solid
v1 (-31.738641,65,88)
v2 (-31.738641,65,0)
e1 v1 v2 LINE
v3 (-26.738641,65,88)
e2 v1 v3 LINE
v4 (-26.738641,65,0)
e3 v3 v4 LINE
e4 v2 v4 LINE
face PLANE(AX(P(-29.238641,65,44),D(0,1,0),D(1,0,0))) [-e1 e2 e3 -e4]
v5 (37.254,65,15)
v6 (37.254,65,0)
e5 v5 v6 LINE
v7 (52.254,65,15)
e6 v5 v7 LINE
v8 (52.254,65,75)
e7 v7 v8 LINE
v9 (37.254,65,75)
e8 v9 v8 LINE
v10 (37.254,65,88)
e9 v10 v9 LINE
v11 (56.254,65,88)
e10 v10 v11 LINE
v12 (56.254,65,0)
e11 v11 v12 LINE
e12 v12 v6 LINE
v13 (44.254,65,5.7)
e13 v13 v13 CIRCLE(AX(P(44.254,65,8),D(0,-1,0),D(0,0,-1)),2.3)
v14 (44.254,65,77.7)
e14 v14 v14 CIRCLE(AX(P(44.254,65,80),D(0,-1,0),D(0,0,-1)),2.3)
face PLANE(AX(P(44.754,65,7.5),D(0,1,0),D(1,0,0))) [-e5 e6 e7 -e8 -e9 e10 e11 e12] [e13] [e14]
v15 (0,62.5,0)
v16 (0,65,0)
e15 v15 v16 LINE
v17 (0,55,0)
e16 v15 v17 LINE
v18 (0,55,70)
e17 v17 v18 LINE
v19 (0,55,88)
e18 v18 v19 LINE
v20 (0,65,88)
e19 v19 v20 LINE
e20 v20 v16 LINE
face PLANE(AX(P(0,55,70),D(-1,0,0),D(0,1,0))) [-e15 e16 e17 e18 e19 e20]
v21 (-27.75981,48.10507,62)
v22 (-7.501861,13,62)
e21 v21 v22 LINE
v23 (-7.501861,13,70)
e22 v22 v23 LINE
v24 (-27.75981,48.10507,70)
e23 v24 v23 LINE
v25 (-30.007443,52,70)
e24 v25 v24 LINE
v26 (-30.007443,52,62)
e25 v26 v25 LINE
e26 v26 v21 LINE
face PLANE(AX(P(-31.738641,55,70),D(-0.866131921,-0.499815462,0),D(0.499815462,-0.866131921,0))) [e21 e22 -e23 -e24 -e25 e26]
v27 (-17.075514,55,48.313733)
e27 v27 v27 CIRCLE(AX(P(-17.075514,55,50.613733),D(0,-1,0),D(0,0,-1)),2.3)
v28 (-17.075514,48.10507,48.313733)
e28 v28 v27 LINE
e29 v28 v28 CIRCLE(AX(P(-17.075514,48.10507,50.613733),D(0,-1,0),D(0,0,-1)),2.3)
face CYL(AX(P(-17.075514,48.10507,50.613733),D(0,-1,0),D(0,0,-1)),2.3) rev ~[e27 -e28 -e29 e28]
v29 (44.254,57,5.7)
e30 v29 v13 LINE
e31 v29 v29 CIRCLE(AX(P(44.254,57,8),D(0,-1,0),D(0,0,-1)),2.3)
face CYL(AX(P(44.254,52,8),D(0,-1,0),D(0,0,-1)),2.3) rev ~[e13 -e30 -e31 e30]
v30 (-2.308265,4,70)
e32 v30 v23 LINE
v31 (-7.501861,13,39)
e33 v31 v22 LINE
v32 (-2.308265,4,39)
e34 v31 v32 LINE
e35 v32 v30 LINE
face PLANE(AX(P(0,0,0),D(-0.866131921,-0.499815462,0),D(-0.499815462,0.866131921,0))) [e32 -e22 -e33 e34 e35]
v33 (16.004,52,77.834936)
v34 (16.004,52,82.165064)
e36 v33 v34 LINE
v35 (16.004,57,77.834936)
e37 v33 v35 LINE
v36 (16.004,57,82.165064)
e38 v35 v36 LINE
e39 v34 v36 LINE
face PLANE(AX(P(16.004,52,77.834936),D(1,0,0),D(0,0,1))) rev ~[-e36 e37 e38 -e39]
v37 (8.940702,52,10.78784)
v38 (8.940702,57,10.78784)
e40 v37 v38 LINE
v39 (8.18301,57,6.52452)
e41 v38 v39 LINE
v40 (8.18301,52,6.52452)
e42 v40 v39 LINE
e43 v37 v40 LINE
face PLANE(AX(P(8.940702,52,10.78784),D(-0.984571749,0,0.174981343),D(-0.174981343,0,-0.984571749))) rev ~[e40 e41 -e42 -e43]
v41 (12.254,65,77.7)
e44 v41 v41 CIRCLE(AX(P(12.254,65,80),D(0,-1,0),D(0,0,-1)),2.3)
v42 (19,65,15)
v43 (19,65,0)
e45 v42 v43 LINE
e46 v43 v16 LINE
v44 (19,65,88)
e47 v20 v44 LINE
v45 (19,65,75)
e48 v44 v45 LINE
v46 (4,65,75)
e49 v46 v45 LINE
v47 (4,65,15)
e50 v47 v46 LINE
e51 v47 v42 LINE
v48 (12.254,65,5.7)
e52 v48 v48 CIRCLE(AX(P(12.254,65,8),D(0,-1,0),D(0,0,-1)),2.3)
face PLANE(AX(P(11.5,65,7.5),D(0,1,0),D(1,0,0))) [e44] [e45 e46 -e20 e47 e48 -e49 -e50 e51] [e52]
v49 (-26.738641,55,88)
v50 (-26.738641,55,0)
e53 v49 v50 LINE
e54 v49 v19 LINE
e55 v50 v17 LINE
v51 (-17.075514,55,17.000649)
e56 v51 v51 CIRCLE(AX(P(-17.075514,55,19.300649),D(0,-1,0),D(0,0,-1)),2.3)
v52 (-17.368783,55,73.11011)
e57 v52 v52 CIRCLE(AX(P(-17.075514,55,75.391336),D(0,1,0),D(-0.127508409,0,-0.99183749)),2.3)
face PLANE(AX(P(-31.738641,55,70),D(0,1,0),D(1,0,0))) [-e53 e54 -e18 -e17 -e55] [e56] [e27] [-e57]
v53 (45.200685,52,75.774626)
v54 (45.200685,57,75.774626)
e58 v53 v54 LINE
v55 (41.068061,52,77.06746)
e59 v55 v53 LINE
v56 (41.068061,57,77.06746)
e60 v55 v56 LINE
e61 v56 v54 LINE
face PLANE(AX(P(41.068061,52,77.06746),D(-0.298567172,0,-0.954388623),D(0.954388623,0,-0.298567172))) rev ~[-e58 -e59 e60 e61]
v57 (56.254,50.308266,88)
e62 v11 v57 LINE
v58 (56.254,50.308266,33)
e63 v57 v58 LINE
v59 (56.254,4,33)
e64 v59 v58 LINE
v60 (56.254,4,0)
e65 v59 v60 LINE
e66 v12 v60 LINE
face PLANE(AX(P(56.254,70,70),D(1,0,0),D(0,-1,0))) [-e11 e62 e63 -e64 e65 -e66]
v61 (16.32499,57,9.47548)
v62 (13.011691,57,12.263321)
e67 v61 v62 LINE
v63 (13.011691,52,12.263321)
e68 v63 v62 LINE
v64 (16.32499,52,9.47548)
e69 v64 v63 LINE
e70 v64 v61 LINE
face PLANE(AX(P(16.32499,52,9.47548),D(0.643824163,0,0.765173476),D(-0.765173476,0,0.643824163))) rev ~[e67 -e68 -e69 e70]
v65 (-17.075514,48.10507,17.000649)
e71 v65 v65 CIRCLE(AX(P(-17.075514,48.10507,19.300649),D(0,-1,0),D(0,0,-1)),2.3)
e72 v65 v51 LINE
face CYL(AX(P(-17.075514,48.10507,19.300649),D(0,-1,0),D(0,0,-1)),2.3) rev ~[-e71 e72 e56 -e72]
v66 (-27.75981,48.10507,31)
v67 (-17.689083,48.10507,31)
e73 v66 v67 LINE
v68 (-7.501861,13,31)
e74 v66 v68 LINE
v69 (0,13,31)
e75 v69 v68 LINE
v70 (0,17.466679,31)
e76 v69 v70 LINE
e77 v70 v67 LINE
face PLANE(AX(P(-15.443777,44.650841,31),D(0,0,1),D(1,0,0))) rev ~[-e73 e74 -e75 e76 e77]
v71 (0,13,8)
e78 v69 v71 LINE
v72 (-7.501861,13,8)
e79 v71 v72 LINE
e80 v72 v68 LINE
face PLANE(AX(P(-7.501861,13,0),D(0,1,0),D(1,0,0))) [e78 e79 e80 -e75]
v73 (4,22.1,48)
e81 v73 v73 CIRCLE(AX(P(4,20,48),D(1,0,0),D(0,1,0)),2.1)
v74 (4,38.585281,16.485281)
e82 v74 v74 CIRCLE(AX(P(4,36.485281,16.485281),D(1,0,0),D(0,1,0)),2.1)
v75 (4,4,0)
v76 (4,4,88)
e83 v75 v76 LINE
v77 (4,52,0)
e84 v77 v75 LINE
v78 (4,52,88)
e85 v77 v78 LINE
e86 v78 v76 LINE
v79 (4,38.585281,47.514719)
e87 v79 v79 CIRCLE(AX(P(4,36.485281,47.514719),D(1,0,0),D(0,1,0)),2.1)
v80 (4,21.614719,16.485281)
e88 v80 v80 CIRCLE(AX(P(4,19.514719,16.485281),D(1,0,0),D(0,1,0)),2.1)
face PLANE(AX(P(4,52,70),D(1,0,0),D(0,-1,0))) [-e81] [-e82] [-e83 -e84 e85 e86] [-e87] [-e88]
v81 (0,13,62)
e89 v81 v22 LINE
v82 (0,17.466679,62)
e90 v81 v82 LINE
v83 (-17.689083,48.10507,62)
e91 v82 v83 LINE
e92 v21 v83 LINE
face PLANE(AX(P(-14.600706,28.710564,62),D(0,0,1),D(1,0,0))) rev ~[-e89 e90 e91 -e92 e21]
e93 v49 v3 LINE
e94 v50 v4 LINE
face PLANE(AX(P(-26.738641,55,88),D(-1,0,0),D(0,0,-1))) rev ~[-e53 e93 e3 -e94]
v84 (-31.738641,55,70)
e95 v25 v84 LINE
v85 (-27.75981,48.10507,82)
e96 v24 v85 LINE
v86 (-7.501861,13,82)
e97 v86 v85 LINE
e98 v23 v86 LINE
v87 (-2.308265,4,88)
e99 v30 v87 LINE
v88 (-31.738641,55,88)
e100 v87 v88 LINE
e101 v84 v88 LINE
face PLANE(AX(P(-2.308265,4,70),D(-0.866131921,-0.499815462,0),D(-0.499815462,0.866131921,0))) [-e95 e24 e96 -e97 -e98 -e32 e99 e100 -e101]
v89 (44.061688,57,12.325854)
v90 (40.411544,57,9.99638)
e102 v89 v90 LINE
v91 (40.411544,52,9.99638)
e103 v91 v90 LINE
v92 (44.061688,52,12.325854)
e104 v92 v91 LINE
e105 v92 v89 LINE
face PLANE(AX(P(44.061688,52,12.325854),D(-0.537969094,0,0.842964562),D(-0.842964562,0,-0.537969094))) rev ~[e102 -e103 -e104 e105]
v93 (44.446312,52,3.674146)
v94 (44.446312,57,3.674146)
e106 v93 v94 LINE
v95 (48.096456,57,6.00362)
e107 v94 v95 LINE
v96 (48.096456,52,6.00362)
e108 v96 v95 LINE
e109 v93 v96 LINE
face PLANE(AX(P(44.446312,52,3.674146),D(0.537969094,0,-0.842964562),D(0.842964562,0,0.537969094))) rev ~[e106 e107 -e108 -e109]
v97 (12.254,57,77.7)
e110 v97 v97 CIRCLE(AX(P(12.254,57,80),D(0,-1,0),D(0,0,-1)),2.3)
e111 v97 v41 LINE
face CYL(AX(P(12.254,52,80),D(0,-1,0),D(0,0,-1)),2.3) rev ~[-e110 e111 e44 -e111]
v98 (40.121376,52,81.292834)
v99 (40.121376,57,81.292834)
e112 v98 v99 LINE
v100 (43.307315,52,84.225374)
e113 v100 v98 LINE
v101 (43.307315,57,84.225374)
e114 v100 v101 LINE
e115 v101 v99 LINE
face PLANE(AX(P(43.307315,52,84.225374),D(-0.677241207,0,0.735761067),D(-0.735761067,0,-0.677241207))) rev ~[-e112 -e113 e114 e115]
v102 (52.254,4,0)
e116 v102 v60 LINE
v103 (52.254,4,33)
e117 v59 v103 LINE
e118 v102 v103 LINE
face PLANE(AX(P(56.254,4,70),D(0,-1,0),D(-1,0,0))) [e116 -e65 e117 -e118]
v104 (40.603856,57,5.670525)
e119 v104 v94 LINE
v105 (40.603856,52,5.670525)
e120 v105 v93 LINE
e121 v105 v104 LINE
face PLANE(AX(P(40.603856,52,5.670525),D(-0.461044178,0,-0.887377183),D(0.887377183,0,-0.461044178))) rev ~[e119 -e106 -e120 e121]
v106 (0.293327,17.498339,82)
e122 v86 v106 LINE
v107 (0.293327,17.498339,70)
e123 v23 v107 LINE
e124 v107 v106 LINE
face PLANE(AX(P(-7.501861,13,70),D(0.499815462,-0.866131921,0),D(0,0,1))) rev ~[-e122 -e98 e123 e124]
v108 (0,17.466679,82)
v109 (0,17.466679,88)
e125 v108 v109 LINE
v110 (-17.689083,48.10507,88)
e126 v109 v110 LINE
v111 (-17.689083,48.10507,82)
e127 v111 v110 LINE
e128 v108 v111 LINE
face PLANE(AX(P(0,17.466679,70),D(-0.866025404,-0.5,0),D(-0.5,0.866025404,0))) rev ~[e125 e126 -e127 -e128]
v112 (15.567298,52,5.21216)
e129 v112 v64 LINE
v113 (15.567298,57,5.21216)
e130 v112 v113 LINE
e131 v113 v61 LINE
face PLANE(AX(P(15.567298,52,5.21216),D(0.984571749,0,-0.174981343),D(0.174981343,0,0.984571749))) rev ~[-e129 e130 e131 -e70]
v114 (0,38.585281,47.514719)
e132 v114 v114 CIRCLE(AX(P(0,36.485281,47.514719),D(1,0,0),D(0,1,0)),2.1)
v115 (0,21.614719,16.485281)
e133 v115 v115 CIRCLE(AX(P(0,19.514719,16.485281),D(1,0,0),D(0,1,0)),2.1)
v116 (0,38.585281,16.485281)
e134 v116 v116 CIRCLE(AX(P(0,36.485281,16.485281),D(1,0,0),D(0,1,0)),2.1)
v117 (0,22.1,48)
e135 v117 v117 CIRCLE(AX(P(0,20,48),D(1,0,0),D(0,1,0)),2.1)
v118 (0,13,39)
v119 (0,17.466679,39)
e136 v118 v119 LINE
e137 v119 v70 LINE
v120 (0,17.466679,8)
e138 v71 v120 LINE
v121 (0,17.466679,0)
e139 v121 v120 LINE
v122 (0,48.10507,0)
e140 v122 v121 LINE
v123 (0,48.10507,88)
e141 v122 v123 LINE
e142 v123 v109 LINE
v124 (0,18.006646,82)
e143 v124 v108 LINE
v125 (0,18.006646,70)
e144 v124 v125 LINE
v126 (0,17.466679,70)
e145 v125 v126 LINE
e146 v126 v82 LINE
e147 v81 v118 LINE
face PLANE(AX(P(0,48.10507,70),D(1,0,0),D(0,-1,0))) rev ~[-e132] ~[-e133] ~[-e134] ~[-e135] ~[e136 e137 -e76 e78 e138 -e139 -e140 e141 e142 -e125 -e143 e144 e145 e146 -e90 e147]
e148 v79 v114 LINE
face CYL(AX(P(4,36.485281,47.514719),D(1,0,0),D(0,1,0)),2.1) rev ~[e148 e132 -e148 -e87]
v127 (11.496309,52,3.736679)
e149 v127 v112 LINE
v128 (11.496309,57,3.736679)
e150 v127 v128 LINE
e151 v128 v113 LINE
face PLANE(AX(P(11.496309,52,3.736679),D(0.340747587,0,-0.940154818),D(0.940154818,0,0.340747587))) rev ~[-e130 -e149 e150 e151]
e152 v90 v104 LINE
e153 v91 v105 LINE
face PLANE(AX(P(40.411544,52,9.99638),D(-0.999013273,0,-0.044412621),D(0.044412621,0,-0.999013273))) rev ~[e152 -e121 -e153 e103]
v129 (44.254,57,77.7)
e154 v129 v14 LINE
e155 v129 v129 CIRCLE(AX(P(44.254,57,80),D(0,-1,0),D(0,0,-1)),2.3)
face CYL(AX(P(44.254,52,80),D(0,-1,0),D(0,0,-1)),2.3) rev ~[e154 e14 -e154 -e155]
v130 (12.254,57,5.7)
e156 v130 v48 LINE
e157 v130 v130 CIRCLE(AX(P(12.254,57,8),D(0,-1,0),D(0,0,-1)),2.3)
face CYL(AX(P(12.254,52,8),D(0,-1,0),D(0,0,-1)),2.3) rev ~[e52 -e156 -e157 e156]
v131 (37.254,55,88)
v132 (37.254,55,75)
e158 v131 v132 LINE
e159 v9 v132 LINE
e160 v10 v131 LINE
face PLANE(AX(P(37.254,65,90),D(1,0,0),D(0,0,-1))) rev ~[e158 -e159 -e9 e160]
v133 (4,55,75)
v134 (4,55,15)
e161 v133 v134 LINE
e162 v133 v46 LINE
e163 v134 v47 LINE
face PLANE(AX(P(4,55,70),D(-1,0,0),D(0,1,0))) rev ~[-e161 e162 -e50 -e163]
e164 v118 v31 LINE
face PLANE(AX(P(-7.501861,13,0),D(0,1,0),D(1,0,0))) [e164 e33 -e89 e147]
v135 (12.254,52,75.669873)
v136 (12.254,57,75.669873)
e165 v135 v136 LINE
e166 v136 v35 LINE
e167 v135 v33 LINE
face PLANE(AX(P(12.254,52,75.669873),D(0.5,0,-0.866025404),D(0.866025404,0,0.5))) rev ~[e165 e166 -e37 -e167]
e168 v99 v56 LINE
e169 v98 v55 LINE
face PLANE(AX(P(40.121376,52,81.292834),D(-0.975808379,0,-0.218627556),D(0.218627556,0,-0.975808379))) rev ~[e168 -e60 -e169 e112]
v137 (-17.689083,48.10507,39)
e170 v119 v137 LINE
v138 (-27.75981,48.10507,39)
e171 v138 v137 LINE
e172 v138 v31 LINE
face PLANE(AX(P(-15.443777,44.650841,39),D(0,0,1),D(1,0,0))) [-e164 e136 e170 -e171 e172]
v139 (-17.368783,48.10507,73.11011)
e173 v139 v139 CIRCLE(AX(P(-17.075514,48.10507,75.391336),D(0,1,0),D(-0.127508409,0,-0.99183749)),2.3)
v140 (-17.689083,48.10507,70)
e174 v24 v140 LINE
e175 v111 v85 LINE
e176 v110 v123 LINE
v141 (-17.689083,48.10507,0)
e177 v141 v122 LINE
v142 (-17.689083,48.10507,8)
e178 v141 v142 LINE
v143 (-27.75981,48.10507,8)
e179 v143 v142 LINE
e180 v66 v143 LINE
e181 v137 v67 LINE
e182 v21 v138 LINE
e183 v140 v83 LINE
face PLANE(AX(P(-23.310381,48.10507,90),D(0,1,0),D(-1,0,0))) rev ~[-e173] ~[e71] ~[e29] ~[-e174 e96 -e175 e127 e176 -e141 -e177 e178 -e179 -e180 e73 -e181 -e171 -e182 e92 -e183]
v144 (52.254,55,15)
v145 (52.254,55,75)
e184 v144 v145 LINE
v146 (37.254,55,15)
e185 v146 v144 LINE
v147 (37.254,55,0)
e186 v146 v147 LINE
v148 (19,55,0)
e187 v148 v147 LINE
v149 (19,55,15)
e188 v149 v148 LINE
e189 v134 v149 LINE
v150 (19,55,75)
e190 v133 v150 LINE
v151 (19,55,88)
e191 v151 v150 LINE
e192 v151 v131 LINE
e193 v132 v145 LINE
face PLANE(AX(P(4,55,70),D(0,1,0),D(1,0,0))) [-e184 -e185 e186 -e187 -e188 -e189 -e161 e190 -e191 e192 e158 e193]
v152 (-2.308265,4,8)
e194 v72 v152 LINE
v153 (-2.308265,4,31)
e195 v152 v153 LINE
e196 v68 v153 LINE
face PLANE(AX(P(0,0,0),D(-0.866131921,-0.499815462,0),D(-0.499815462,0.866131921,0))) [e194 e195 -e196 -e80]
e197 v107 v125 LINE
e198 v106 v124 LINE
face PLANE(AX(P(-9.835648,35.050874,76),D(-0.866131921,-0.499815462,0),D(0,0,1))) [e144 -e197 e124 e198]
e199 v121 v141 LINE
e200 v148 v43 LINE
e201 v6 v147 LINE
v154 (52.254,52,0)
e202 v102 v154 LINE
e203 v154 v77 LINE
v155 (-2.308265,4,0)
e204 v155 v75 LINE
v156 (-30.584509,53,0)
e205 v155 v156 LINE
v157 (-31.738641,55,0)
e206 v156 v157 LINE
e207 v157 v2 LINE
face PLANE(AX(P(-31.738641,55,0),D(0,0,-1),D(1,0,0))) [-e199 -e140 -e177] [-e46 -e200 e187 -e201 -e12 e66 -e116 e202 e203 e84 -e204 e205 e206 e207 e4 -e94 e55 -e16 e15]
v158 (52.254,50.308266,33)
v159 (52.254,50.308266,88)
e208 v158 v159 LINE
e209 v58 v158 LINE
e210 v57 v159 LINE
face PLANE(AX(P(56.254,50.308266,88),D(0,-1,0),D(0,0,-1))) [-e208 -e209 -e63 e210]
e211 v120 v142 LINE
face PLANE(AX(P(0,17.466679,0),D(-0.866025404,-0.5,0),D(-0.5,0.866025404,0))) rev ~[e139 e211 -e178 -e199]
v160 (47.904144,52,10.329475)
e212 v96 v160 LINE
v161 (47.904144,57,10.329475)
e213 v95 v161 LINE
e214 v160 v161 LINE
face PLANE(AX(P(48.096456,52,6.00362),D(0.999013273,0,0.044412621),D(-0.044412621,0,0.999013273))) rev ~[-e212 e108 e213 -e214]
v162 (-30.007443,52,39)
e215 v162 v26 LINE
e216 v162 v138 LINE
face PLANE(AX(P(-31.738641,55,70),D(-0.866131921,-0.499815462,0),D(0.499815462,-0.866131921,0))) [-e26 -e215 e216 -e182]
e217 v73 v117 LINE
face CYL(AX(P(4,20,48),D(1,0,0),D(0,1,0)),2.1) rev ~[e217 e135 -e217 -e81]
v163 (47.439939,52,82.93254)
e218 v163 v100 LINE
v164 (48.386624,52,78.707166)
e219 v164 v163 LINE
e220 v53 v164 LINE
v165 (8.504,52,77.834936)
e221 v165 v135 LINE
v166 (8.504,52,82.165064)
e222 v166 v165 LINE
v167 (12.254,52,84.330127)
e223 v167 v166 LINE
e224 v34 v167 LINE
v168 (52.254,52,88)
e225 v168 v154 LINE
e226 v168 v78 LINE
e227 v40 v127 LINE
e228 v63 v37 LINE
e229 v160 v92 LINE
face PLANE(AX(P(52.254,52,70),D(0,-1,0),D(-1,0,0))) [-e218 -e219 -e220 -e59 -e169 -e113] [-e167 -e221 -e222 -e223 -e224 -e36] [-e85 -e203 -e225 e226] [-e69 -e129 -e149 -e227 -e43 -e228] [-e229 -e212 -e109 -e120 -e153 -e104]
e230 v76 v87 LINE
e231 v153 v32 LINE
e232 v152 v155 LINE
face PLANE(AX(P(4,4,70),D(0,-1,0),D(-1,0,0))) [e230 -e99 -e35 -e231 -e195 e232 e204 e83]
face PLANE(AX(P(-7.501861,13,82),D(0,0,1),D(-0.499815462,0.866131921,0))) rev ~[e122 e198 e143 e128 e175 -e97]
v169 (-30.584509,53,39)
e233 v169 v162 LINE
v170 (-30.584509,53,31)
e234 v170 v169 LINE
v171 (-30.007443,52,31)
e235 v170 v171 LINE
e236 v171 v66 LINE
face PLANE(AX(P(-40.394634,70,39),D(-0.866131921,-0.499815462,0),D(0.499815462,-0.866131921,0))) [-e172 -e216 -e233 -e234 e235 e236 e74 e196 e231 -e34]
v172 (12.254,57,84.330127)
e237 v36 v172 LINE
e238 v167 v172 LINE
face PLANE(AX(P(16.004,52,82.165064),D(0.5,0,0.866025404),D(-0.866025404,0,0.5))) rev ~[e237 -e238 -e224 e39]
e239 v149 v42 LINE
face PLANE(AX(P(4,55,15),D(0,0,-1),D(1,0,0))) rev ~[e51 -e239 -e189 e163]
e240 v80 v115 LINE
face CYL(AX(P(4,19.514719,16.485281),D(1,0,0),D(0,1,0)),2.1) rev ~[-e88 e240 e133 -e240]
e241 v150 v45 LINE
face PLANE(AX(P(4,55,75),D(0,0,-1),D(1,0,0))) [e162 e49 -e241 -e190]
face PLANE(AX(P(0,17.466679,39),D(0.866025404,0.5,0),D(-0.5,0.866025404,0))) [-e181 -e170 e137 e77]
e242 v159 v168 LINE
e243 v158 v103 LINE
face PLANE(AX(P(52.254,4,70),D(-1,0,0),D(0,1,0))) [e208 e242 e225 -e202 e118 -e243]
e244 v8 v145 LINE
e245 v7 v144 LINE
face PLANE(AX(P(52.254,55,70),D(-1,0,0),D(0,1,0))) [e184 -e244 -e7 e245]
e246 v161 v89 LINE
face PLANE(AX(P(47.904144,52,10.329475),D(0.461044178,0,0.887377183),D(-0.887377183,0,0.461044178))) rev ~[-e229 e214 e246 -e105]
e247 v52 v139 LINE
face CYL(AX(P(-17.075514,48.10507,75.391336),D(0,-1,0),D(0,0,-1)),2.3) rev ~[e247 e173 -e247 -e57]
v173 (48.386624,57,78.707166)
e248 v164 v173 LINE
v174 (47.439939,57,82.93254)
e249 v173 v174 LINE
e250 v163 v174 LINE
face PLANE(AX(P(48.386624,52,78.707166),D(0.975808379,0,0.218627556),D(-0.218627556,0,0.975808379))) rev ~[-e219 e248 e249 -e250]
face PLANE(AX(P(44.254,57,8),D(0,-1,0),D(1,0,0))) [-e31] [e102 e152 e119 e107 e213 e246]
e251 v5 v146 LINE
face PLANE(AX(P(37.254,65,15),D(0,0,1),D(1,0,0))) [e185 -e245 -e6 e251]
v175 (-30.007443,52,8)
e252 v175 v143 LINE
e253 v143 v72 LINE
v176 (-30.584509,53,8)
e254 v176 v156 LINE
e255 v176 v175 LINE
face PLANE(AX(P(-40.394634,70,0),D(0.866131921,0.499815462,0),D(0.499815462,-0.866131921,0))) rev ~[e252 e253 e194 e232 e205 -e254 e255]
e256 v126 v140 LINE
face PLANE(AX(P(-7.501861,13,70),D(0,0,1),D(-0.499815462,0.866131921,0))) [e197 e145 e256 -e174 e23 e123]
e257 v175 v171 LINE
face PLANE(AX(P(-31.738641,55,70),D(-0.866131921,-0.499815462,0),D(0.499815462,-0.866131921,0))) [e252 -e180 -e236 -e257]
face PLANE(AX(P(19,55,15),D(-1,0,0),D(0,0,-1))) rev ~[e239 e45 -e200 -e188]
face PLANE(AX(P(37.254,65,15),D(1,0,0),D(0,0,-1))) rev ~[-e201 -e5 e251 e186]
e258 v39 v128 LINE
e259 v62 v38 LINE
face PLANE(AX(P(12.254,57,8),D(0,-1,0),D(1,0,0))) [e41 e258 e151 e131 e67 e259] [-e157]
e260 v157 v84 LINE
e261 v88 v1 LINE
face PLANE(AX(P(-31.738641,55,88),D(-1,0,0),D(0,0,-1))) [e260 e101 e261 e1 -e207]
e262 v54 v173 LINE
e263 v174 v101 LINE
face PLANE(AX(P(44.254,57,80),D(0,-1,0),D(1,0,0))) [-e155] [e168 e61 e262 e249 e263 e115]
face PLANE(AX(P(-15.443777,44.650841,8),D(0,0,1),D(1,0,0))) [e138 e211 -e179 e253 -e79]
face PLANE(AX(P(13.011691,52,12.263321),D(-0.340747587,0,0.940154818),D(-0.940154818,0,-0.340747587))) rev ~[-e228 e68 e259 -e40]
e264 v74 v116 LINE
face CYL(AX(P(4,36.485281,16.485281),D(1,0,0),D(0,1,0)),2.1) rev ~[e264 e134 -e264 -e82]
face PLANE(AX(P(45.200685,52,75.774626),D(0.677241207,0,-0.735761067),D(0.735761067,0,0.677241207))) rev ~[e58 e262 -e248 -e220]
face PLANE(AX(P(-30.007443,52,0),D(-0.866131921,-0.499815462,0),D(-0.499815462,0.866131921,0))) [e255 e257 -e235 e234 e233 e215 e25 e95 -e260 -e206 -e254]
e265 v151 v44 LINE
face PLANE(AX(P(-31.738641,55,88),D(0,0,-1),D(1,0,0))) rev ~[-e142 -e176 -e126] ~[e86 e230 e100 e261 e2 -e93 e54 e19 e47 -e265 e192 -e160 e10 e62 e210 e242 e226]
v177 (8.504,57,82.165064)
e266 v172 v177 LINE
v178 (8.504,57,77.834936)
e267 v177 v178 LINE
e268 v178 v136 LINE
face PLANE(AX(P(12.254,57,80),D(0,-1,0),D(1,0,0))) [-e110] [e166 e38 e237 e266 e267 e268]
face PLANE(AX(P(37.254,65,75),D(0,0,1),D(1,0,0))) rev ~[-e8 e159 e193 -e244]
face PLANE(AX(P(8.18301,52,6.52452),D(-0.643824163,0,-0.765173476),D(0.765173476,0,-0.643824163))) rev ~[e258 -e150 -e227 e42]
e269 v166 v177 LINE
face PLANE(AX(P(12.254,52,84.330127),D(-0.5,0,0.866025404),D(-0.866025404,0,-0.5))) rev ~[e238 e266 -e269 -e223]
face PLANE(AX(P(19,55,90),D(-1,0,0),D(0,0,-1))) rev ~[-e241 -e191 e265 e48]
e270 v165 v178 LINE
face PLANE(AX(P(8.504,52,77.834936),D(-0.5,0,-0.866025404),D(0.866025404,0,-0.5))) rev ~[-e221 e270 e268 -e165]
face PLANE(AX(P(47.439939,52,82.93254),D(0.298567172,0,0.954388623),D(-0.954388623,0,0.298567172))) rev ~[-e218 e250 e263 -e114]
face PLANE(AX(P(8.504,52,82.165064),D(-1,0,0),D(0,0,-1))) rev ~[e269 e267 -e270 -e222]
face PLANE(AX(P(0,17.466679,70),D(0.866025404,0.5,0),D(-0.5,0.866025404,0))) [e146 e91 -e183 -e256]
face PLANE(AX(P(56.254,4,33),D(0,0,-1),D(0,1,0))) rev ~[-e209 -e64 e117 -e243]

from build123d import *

# Parameters (mm, degrees)
SKETCH1_W            = 48.254
SKETCH1_H            = 3
BOSS_EXTRUDE1_DEPTH  = 70
BOSS_EXTRUDE3_DEPTH  = 8
BOSS_EXTRUDE4_DEPTH  = 8
BOSS_EXTRUDE5_DEPTH  = 8
BOSS_EXTRUDE6_DEPTH  = 70
SKETCH7_W            = 40.394634483
SKETCH7_H            = 17
CUT_EXTRUDE3_DEPTH   = 70
BOSS_EXTRUDE7_DEPTH  = 70
BOSS_EXTRUDE10_DEPTH = 8
BOSS_EXTRUDE11_DEPTH = 70
SKETCH13_W           = 83.001411072
SKETCH13_H           = 87.868559997
CUT_EXTRUDE4_DEPTH   = 4
SKETCH14_W           = 48.254
SKETCH14_H           = 10
BOSS_EXTRUDE12_DEPTH = 20
SKETCH16_W           = 56.254
SKETCH16_H           = 5
CUT_EXTRUDE5_DEPTH   = 100
SKETCH17_W           = 15
SKETCH17_H           = 15
BOSS_EXTRUDE14_DEPTH = 13
CUT_EXTRUDE8_DEPTH   = 5
SKETCH21_R           = 2.3
CUT_EXTRUDE9_DEPTH   = 15
SKETCH23_W           = 12
SKETCH23_H           = 40.530858039
CUT_EXTRUDE10_DEPTH  = 9
SKETCH25_R           = 2.3
CUT_EXTRUDE11_DEPTH  = 20
SKETCH26_R           = 2.3
CUT_EXTRUDE12_DEPTH  = 20
BOSS_EXTRUDE16_DEPTH = 20
SKETCH28_W           = 15
SKETCH28_H           = 15
BOSS_EXTRUDE17_DEPTH = 10
SKETCH29_R           = 2.3
CUT_EXTRUDE13_DEPTH  = 20
SKETCH30_W           = 10.391026801
SKETCH30_H           = 12
BOSS_EXTRUDE18_DEPTH = 5
SKETCH31_R           = 2.3
CUT_EXTRUDE14_DEPTH  = 45
SKETCH36_R           = 60.036471347
CUT_EXTRUDE15_DEPTH  = 2
SKETCH37_W           = 5
SKETCH37_H           = 88
BOSS_EXTRUDE19_DEPTH = 10
CUT_EXTRUDE16_DEPTH  = 5
SKETCH39_R           = 2.1
CUT_EXTRUDE17_DEPTH  = 5
SKETCH40_W           = 55
SKETCH40_H           = 46.30826584
CUT_EXTRUDE18_DEPTH  = 5


with BuildPart() as part:
    # Sketch1 → Boss-Extrude1 (new body)
    with BuildSketch(Plane.XY):
        Polygon((4, 0), (0, 0), (0, 70), (56.254, 70), (56.254, 0), (52.254, 0), (52.254, 65), (4, 65), align=None)
        with Locations((28.127, 53.5)):
            Rectangle(SKETCH1_W, SKETCH1_H)
    extrude(amount=BOSS_EXTRUDE1_DEPTH)

    # Sketch3 → Boss-Extrude3 (add)
    with BuildSketch(Plane.XY.offset(70)):
        Polygon((0, 62.5), (0, 70), (-40.394634483, 70), (0, 0.034440722), (0, 17.466679003), (-26, 62.5), align=None)
    extrude(amount=-BOSS_EXTRUDE3_DEPTH)

    # Sketch4 → Boss-Extrude4 (add)
    with BuildSketch(Plane(origin=(0, 0, 0), x_dir=(-1, 0, 0), z_dir=(0, 0, -1))):
        Polygon((0, 70), (40.394634483, 70), (0, 0), (0, 17.466679003), (26, 62.5), (0, 62.5), align=None)
    extrude(amount=-BOSS_EXTRUDE4_DEPTH)

    # Sketch5 → Boss-Extrude5 (add)
    with BuildSketch(Plane(origin=(0, 0, 39), x_dir=(-1, 0, 0), z_dir=(0, 0, -1))):
        Polygon((0, 62.5), (0, 70), (40.394634483, 70), (0, 0), (0, 17.466679003), (26, 62.5), align=None)
    extrude(amount=BOSS_EXTRUDE5_DEPTH)

    # Sketch6 → Boss-Extrude6 (add)
    with BuildSketch(Plane(origin=(0, 0, 0), x_dir=(-1, 0, 0), z_dir=(0, 0, -1))):
        Polygon((0, 62.5), (36.066637932, 62.5), (40.394634483, 70), (0, 70), align=None)
        Polygon((-4, 0), (0, 0), (7.50186069, 13), (-4, 13), align=None)
    extrude(amount=-BOSS_EXTRUDE6_DEPTH)

    # Sketch7 → Cut-Extrude3 (cut)
    with BuildSketch(Plane.XY.offset(70)):
        with Locations((-20.197317242, 61.5)):
            Rectangle(SKETCH7_W, SKETCH7_H)
    extrude(amount=-CUT_EXTRUDE3_DEPTH, mode=Mode.SUBTRACT)

    # Sketch8 → Boss-Extrude7 (add)
    with BuildSketch(Plane(origin=(0, 0, 0), x_dir=(-1, 0, 0), z_dir=(0, 0, -1))):
        Polygon((-4, 55), (-4, 52), (30.007442759, 52), (31.73864138, 55), align=None)
    extrude(amount=-BOSS_EXTRUDE7_DEPTH)

    # Sketch11 → Boss-Extrude10 (add)
    with BuildSketch(Plane.XY.offset(70)):
        Polygon((-31.73864138, 55), (0, 0), (-3.053687451, 13), (-27.288965695, 55), align=None)
    extrude(amount=-BOSS_EXTRUDE10_DEPTH)

    # Sketch12 → Boss-Extrude11 (add)
    with BuildSketch(Plane.XY.offset(70)):
        Polygon((-31.73864138, 55), (-27.75981023, 48.105069917), (0, 48.105069917), (0, 55), align=None)
    extrude(amount=-BOSS_EXTRUDE11_DEPTH)

    # Sketch13 → Cut-Extrude4 (cut)
    with BuildSketch(Plane.XZ):
        with Locations((25.938658228, 33.313825886)):
            Rectangle(SKETCH13_W, SKETCH13_H)
    extrude(amount=-CUT_EXTRUDE4_DEPTH, mode=Mode.SUBTRACT)

    # Sketch14 → Boss-Extrude12 (add)
    with BuildSketch(Plane.XY.offset(70)):
        Polygon((-2.308264828, 4), (-31.73864138, 55), (0, 55), (0, 70), (56.254, 70), (56.254, 4), (52.254, 4), (52.254, 52), (4, 52), (4, 4), align=None)
        Polygon((-17.689083241, 48.105069917), (0, 48.105069917), (0, 17.466679003), align=None, mode=Mode.SUBTRACT)
        with Locations((28.127, 60)):
            Rectangle(SKETCH14_W, SKETCH14_H, mode=Mode.SUBTRACT)
    extrude(amount=BOSS_EXTRUDE12_DEPTH)

    # Sketch16 → Cut-Extrude5 (cut)
    with BuildSketch(Plane.XY.offset(90)):
        with Locations((28.127, 67.5)):
            Rectangle(SKETCH16_W, SKETCH16_H)
    extrude(amount=-CUT_EXTRUDE5_DEPTH, mode=Mode.SUBTRACT)

    # Sketch17 → Boss-Extrude14 (add)
    with BuildSketch(Plane(origin=(0, 65, 0), x_dir=(1, 0, 0), z_dir=(0, 1, 0))):
        with Locations((44.754, -7.5)):
            Rectangle(SKETCH17_W, SKETCH17_H)
        with Locations((44.754, -82.5)):
            Rectangle(SKETCH17_W, SKETCH17_H)
    extrude(amount=-BOSS_EXTRUDE14_DEPTH)

    # Sketch22 → Cut-Extrude8 (cut)
    with BuildSketch(Plane.XZ.offset(-52)):
        Polygon((48.096455918, 6.003620146), (47.904143628, 10.329474511), (44.06168771, 12.325854365), (40.411544082, 9.996379854), (40.603856372, 5.670525489), (44.44631229, 3.674145635), align=None)
        Polygon((45.200685086, 75.774625774), (48.386623963, 78.707166221), (47.439938877, 82.932540447), (43.307314914, 84.225374226), (40.121376037, 81.292833779), (41.068061123, 77.067459553), align=None)
    extrude(amount=-CUT_EXTRUDE8_DEPTH, mode=Mode.SUBTRACT)

    # Sketch21 → Cut-Extrude9 (cut)
    with BuildSketch(Plane(origin=(0, 52, 0), x_dir=(-1, 0, 0), z_dir=(0, -1, 0))):
        with Locations(Location((-44.254, -80, 0), (0, 0, 90))):
            Circle(SKETCH21_R)
        with Locations(Location((-44.254, -8, 0), (0, 0, 90))):
            Circle(SKETCH21_R)
    extrude(amount=-CUT_EXTRUDE9_DEPTH, mode=Mode.SUBTRACT)

    # Sketch23 → Cut-Extrude10 (cut)
    with BuildSketch(Plane(origin=(0, 0, 0), x_dir=(0, 0, 1), z_dir=(-0.8661319205837115, -0.49981546209173167, 0))):
        with Locations((76, 35.274689955)):
            Rectangle(SKETCH23_W, SKETCH23_H)
    extrude(amount=-CUT_EXTRUDE10_DEPTH, mode=Mode.SUBTRACT)

    # Sketch25 → Cut-Extrude11 (cut)
    with BuildSketch(Plane(origin=(0, 48.105069917, 0), x_dir=(-1, 0, 0), z_dir=(0, -1, 0))):
        with Locations(Location((17.075514089, -19.30064897, 0), (0, 0, 90))):
            Circle(SKETCH25_R)
        with Locations(Location((17.075514089, -50.613733273, 0), (0, 0, 90))):
            Circle(SKETCH25_R)
    extrude(amount=-CUT_EXTRUDE11_DEPTH, mode=Mode.SUBTRACT)

    # Sketch26 → Cut-Extrude12 (cut)
    with BuildSketch(Plane.XZ.offset(-48.105069917)):
        with Locations(Location((-17.075514089, 75.391336138, 0), (0, 0, 262.674363606))):
            Circle(SKETCH26_R)
    extrude(amount=-CUT_EXTRUDE12_DEPTH, mode=Mode.SUBTRACT)

    # Sketch27 → Boss-Extrude16 (add)
    with BuildSketch(Plane.XY.offset(90)):
        Polygon((-23.310381194, 48.105069917), (-27.75981023, 48.105069917), (-31.73864138, 55), (-23.310381194, 55), align=None)
    extrude(amount=-BOSS_EXTRUDE16_DEPTH)

    # Sketch28 → Boss-Extrude17 (add)
    with BuildSketch(Plane(origin=(0, 55, 0), x_dir=(1, 0, 0), z_dir=(0, 1, 0))):
        with Locations((11.5, -7.5)):
            Rectangle(SKETCH28_W, SKETCH28_H)
        with Locations((11.5, -82.5)):
            Rectangle(SKETCH28_W, SKETCH28_H)
    extrude(amount=BOSS_EXTRUDE17_DEPTH)

    # Sketch29 → Cut-Extrude13 (cut)
    with BuildSketch(Plane(origin=(0, 52, 0), x_dir=(-1, 0, 0), z_dir=(0, -1, 0))):
        with Locations(Location((-12.254, -8, 0), (0, 0, 90))):
            Circle(SKETCH29_R)
        with Locations(Location((-12.254, -80, 0), (0, 0, 90))):
            Circle(SKETCH29_R)
    extrude(amount=-CUT_EXTRUDE13_DEPTH, mode=Mode.SUBTRACT)

    # Sketch30 → Boss-Extrude18 (add)
    with BuildSketch(Plane.XZ.offset(-48.105069917)):
        with Locations((-22.56429683, 76)):
            Rectangle(SKETCH30_W, SKETCH30_H)
    extrude(amount=-BOSS_EXTRUDE18_DEPTH)

    # Sketch31 → Cut-Extrude14 (cut)
    with BuildSketch(Plane.XZ.offset(-48.105069917)):
        with Locations(Location((-17.075514089, 75.391336138, 0), (0, 0, 270))):
            Circle(SKETCH31_R)
    extrude(amount=-CUT_EXTRUDE14_DEPTH, mode=Mode.SUBTRACT)

    # Sketch36 → Cut-Extrude15 (cut)
    with BuildSketch(Plane.XY.offset(90)):
        with Locations((23.036116276, 36.93280147)):
            Circle(SKETCH36_R)
    extrude(amount=-CUT_EXTRUDE15_DEPTH, mode=Mode.SUBTRACT)

    # Sketch37 → Boss-Extrude19 (add)
    with BuildSketch(Plane(origin=(0, 55, 0), x_dir=(1, 0, 0), z_dir=(0, 1, 0))):
        with Locations((-29.23864138, -44)):
            Rectangle(SKETCH37_W, SKETCH37_H)
    extrude(amount=BOSS_EXTRUDE19_DEPTH)

    # Sketch38 → Cut-Extrude16 (cut)
    with BuildSketch(Plane.XZ.offset(-52)):
        Polygon((12.254, 75.669872981), (16.004, 77.834936491), (16.004, 82.165063509), (12.254, 84.330127019), (8.504, 82.165063509), (8.504, 77.834936491), align=None)
        Polygon((15.567298341, 5.212159598), (16.32498978, 9.475480332), (13.011691439, 12.263320734), (8.940701659, 10.787840402), (8.18301022, 6.524519668), (11.496308561, 3.736679266), align=None)
    extrude(amount=-CUT_EXTRUDE16_DEPTH, mode=Mode.SUBTRACT)

    # Sketch39 → Cut-Extrude17 (cut)
    with BuildSketch(Plane(origin=(4, 0, 0), x_dir=(0, 0, -1), z_dir=(1, 0, 0))):
        with Locations(Location((-47.514718626, 36.485281374, 0), (0, 0, 90))):
            Circle(SKETCH39_R)
        with Locations(Location((-48, 20, 0), (0, 0, 90))):
            Circle(SKETCH39_R)
        with Locations(Location((-16.485281374, 19.514718626, 0), (0, 0, 90))):
            Circle(SKETCH39_R)
        with Locations(Location((-16.485281374, 36.485281374, 0), (0, 0, 90))):
            Circle(SKETCH39_R)
    extrude(amount=-CUT_EXTRUDE17_DEPTH, mode=Mode.SUBTRACT)

    # Sketch40 → Cut-Extrude18 (cut)
    with BuildSketch(Plane(origin=(56.254, 0, 0), x_dir=(0, 0, -1), z_dir=(1, 0, 0))):
        with Locations((-60.5, 27.15413292)):
            Rectangle(SKETCH40_W, SKETCH40_H)
    extrude(amount=-CUT_EXTRUDE18_DEPTH, mode=Mode.SUBTRACT)


solid = part.part
